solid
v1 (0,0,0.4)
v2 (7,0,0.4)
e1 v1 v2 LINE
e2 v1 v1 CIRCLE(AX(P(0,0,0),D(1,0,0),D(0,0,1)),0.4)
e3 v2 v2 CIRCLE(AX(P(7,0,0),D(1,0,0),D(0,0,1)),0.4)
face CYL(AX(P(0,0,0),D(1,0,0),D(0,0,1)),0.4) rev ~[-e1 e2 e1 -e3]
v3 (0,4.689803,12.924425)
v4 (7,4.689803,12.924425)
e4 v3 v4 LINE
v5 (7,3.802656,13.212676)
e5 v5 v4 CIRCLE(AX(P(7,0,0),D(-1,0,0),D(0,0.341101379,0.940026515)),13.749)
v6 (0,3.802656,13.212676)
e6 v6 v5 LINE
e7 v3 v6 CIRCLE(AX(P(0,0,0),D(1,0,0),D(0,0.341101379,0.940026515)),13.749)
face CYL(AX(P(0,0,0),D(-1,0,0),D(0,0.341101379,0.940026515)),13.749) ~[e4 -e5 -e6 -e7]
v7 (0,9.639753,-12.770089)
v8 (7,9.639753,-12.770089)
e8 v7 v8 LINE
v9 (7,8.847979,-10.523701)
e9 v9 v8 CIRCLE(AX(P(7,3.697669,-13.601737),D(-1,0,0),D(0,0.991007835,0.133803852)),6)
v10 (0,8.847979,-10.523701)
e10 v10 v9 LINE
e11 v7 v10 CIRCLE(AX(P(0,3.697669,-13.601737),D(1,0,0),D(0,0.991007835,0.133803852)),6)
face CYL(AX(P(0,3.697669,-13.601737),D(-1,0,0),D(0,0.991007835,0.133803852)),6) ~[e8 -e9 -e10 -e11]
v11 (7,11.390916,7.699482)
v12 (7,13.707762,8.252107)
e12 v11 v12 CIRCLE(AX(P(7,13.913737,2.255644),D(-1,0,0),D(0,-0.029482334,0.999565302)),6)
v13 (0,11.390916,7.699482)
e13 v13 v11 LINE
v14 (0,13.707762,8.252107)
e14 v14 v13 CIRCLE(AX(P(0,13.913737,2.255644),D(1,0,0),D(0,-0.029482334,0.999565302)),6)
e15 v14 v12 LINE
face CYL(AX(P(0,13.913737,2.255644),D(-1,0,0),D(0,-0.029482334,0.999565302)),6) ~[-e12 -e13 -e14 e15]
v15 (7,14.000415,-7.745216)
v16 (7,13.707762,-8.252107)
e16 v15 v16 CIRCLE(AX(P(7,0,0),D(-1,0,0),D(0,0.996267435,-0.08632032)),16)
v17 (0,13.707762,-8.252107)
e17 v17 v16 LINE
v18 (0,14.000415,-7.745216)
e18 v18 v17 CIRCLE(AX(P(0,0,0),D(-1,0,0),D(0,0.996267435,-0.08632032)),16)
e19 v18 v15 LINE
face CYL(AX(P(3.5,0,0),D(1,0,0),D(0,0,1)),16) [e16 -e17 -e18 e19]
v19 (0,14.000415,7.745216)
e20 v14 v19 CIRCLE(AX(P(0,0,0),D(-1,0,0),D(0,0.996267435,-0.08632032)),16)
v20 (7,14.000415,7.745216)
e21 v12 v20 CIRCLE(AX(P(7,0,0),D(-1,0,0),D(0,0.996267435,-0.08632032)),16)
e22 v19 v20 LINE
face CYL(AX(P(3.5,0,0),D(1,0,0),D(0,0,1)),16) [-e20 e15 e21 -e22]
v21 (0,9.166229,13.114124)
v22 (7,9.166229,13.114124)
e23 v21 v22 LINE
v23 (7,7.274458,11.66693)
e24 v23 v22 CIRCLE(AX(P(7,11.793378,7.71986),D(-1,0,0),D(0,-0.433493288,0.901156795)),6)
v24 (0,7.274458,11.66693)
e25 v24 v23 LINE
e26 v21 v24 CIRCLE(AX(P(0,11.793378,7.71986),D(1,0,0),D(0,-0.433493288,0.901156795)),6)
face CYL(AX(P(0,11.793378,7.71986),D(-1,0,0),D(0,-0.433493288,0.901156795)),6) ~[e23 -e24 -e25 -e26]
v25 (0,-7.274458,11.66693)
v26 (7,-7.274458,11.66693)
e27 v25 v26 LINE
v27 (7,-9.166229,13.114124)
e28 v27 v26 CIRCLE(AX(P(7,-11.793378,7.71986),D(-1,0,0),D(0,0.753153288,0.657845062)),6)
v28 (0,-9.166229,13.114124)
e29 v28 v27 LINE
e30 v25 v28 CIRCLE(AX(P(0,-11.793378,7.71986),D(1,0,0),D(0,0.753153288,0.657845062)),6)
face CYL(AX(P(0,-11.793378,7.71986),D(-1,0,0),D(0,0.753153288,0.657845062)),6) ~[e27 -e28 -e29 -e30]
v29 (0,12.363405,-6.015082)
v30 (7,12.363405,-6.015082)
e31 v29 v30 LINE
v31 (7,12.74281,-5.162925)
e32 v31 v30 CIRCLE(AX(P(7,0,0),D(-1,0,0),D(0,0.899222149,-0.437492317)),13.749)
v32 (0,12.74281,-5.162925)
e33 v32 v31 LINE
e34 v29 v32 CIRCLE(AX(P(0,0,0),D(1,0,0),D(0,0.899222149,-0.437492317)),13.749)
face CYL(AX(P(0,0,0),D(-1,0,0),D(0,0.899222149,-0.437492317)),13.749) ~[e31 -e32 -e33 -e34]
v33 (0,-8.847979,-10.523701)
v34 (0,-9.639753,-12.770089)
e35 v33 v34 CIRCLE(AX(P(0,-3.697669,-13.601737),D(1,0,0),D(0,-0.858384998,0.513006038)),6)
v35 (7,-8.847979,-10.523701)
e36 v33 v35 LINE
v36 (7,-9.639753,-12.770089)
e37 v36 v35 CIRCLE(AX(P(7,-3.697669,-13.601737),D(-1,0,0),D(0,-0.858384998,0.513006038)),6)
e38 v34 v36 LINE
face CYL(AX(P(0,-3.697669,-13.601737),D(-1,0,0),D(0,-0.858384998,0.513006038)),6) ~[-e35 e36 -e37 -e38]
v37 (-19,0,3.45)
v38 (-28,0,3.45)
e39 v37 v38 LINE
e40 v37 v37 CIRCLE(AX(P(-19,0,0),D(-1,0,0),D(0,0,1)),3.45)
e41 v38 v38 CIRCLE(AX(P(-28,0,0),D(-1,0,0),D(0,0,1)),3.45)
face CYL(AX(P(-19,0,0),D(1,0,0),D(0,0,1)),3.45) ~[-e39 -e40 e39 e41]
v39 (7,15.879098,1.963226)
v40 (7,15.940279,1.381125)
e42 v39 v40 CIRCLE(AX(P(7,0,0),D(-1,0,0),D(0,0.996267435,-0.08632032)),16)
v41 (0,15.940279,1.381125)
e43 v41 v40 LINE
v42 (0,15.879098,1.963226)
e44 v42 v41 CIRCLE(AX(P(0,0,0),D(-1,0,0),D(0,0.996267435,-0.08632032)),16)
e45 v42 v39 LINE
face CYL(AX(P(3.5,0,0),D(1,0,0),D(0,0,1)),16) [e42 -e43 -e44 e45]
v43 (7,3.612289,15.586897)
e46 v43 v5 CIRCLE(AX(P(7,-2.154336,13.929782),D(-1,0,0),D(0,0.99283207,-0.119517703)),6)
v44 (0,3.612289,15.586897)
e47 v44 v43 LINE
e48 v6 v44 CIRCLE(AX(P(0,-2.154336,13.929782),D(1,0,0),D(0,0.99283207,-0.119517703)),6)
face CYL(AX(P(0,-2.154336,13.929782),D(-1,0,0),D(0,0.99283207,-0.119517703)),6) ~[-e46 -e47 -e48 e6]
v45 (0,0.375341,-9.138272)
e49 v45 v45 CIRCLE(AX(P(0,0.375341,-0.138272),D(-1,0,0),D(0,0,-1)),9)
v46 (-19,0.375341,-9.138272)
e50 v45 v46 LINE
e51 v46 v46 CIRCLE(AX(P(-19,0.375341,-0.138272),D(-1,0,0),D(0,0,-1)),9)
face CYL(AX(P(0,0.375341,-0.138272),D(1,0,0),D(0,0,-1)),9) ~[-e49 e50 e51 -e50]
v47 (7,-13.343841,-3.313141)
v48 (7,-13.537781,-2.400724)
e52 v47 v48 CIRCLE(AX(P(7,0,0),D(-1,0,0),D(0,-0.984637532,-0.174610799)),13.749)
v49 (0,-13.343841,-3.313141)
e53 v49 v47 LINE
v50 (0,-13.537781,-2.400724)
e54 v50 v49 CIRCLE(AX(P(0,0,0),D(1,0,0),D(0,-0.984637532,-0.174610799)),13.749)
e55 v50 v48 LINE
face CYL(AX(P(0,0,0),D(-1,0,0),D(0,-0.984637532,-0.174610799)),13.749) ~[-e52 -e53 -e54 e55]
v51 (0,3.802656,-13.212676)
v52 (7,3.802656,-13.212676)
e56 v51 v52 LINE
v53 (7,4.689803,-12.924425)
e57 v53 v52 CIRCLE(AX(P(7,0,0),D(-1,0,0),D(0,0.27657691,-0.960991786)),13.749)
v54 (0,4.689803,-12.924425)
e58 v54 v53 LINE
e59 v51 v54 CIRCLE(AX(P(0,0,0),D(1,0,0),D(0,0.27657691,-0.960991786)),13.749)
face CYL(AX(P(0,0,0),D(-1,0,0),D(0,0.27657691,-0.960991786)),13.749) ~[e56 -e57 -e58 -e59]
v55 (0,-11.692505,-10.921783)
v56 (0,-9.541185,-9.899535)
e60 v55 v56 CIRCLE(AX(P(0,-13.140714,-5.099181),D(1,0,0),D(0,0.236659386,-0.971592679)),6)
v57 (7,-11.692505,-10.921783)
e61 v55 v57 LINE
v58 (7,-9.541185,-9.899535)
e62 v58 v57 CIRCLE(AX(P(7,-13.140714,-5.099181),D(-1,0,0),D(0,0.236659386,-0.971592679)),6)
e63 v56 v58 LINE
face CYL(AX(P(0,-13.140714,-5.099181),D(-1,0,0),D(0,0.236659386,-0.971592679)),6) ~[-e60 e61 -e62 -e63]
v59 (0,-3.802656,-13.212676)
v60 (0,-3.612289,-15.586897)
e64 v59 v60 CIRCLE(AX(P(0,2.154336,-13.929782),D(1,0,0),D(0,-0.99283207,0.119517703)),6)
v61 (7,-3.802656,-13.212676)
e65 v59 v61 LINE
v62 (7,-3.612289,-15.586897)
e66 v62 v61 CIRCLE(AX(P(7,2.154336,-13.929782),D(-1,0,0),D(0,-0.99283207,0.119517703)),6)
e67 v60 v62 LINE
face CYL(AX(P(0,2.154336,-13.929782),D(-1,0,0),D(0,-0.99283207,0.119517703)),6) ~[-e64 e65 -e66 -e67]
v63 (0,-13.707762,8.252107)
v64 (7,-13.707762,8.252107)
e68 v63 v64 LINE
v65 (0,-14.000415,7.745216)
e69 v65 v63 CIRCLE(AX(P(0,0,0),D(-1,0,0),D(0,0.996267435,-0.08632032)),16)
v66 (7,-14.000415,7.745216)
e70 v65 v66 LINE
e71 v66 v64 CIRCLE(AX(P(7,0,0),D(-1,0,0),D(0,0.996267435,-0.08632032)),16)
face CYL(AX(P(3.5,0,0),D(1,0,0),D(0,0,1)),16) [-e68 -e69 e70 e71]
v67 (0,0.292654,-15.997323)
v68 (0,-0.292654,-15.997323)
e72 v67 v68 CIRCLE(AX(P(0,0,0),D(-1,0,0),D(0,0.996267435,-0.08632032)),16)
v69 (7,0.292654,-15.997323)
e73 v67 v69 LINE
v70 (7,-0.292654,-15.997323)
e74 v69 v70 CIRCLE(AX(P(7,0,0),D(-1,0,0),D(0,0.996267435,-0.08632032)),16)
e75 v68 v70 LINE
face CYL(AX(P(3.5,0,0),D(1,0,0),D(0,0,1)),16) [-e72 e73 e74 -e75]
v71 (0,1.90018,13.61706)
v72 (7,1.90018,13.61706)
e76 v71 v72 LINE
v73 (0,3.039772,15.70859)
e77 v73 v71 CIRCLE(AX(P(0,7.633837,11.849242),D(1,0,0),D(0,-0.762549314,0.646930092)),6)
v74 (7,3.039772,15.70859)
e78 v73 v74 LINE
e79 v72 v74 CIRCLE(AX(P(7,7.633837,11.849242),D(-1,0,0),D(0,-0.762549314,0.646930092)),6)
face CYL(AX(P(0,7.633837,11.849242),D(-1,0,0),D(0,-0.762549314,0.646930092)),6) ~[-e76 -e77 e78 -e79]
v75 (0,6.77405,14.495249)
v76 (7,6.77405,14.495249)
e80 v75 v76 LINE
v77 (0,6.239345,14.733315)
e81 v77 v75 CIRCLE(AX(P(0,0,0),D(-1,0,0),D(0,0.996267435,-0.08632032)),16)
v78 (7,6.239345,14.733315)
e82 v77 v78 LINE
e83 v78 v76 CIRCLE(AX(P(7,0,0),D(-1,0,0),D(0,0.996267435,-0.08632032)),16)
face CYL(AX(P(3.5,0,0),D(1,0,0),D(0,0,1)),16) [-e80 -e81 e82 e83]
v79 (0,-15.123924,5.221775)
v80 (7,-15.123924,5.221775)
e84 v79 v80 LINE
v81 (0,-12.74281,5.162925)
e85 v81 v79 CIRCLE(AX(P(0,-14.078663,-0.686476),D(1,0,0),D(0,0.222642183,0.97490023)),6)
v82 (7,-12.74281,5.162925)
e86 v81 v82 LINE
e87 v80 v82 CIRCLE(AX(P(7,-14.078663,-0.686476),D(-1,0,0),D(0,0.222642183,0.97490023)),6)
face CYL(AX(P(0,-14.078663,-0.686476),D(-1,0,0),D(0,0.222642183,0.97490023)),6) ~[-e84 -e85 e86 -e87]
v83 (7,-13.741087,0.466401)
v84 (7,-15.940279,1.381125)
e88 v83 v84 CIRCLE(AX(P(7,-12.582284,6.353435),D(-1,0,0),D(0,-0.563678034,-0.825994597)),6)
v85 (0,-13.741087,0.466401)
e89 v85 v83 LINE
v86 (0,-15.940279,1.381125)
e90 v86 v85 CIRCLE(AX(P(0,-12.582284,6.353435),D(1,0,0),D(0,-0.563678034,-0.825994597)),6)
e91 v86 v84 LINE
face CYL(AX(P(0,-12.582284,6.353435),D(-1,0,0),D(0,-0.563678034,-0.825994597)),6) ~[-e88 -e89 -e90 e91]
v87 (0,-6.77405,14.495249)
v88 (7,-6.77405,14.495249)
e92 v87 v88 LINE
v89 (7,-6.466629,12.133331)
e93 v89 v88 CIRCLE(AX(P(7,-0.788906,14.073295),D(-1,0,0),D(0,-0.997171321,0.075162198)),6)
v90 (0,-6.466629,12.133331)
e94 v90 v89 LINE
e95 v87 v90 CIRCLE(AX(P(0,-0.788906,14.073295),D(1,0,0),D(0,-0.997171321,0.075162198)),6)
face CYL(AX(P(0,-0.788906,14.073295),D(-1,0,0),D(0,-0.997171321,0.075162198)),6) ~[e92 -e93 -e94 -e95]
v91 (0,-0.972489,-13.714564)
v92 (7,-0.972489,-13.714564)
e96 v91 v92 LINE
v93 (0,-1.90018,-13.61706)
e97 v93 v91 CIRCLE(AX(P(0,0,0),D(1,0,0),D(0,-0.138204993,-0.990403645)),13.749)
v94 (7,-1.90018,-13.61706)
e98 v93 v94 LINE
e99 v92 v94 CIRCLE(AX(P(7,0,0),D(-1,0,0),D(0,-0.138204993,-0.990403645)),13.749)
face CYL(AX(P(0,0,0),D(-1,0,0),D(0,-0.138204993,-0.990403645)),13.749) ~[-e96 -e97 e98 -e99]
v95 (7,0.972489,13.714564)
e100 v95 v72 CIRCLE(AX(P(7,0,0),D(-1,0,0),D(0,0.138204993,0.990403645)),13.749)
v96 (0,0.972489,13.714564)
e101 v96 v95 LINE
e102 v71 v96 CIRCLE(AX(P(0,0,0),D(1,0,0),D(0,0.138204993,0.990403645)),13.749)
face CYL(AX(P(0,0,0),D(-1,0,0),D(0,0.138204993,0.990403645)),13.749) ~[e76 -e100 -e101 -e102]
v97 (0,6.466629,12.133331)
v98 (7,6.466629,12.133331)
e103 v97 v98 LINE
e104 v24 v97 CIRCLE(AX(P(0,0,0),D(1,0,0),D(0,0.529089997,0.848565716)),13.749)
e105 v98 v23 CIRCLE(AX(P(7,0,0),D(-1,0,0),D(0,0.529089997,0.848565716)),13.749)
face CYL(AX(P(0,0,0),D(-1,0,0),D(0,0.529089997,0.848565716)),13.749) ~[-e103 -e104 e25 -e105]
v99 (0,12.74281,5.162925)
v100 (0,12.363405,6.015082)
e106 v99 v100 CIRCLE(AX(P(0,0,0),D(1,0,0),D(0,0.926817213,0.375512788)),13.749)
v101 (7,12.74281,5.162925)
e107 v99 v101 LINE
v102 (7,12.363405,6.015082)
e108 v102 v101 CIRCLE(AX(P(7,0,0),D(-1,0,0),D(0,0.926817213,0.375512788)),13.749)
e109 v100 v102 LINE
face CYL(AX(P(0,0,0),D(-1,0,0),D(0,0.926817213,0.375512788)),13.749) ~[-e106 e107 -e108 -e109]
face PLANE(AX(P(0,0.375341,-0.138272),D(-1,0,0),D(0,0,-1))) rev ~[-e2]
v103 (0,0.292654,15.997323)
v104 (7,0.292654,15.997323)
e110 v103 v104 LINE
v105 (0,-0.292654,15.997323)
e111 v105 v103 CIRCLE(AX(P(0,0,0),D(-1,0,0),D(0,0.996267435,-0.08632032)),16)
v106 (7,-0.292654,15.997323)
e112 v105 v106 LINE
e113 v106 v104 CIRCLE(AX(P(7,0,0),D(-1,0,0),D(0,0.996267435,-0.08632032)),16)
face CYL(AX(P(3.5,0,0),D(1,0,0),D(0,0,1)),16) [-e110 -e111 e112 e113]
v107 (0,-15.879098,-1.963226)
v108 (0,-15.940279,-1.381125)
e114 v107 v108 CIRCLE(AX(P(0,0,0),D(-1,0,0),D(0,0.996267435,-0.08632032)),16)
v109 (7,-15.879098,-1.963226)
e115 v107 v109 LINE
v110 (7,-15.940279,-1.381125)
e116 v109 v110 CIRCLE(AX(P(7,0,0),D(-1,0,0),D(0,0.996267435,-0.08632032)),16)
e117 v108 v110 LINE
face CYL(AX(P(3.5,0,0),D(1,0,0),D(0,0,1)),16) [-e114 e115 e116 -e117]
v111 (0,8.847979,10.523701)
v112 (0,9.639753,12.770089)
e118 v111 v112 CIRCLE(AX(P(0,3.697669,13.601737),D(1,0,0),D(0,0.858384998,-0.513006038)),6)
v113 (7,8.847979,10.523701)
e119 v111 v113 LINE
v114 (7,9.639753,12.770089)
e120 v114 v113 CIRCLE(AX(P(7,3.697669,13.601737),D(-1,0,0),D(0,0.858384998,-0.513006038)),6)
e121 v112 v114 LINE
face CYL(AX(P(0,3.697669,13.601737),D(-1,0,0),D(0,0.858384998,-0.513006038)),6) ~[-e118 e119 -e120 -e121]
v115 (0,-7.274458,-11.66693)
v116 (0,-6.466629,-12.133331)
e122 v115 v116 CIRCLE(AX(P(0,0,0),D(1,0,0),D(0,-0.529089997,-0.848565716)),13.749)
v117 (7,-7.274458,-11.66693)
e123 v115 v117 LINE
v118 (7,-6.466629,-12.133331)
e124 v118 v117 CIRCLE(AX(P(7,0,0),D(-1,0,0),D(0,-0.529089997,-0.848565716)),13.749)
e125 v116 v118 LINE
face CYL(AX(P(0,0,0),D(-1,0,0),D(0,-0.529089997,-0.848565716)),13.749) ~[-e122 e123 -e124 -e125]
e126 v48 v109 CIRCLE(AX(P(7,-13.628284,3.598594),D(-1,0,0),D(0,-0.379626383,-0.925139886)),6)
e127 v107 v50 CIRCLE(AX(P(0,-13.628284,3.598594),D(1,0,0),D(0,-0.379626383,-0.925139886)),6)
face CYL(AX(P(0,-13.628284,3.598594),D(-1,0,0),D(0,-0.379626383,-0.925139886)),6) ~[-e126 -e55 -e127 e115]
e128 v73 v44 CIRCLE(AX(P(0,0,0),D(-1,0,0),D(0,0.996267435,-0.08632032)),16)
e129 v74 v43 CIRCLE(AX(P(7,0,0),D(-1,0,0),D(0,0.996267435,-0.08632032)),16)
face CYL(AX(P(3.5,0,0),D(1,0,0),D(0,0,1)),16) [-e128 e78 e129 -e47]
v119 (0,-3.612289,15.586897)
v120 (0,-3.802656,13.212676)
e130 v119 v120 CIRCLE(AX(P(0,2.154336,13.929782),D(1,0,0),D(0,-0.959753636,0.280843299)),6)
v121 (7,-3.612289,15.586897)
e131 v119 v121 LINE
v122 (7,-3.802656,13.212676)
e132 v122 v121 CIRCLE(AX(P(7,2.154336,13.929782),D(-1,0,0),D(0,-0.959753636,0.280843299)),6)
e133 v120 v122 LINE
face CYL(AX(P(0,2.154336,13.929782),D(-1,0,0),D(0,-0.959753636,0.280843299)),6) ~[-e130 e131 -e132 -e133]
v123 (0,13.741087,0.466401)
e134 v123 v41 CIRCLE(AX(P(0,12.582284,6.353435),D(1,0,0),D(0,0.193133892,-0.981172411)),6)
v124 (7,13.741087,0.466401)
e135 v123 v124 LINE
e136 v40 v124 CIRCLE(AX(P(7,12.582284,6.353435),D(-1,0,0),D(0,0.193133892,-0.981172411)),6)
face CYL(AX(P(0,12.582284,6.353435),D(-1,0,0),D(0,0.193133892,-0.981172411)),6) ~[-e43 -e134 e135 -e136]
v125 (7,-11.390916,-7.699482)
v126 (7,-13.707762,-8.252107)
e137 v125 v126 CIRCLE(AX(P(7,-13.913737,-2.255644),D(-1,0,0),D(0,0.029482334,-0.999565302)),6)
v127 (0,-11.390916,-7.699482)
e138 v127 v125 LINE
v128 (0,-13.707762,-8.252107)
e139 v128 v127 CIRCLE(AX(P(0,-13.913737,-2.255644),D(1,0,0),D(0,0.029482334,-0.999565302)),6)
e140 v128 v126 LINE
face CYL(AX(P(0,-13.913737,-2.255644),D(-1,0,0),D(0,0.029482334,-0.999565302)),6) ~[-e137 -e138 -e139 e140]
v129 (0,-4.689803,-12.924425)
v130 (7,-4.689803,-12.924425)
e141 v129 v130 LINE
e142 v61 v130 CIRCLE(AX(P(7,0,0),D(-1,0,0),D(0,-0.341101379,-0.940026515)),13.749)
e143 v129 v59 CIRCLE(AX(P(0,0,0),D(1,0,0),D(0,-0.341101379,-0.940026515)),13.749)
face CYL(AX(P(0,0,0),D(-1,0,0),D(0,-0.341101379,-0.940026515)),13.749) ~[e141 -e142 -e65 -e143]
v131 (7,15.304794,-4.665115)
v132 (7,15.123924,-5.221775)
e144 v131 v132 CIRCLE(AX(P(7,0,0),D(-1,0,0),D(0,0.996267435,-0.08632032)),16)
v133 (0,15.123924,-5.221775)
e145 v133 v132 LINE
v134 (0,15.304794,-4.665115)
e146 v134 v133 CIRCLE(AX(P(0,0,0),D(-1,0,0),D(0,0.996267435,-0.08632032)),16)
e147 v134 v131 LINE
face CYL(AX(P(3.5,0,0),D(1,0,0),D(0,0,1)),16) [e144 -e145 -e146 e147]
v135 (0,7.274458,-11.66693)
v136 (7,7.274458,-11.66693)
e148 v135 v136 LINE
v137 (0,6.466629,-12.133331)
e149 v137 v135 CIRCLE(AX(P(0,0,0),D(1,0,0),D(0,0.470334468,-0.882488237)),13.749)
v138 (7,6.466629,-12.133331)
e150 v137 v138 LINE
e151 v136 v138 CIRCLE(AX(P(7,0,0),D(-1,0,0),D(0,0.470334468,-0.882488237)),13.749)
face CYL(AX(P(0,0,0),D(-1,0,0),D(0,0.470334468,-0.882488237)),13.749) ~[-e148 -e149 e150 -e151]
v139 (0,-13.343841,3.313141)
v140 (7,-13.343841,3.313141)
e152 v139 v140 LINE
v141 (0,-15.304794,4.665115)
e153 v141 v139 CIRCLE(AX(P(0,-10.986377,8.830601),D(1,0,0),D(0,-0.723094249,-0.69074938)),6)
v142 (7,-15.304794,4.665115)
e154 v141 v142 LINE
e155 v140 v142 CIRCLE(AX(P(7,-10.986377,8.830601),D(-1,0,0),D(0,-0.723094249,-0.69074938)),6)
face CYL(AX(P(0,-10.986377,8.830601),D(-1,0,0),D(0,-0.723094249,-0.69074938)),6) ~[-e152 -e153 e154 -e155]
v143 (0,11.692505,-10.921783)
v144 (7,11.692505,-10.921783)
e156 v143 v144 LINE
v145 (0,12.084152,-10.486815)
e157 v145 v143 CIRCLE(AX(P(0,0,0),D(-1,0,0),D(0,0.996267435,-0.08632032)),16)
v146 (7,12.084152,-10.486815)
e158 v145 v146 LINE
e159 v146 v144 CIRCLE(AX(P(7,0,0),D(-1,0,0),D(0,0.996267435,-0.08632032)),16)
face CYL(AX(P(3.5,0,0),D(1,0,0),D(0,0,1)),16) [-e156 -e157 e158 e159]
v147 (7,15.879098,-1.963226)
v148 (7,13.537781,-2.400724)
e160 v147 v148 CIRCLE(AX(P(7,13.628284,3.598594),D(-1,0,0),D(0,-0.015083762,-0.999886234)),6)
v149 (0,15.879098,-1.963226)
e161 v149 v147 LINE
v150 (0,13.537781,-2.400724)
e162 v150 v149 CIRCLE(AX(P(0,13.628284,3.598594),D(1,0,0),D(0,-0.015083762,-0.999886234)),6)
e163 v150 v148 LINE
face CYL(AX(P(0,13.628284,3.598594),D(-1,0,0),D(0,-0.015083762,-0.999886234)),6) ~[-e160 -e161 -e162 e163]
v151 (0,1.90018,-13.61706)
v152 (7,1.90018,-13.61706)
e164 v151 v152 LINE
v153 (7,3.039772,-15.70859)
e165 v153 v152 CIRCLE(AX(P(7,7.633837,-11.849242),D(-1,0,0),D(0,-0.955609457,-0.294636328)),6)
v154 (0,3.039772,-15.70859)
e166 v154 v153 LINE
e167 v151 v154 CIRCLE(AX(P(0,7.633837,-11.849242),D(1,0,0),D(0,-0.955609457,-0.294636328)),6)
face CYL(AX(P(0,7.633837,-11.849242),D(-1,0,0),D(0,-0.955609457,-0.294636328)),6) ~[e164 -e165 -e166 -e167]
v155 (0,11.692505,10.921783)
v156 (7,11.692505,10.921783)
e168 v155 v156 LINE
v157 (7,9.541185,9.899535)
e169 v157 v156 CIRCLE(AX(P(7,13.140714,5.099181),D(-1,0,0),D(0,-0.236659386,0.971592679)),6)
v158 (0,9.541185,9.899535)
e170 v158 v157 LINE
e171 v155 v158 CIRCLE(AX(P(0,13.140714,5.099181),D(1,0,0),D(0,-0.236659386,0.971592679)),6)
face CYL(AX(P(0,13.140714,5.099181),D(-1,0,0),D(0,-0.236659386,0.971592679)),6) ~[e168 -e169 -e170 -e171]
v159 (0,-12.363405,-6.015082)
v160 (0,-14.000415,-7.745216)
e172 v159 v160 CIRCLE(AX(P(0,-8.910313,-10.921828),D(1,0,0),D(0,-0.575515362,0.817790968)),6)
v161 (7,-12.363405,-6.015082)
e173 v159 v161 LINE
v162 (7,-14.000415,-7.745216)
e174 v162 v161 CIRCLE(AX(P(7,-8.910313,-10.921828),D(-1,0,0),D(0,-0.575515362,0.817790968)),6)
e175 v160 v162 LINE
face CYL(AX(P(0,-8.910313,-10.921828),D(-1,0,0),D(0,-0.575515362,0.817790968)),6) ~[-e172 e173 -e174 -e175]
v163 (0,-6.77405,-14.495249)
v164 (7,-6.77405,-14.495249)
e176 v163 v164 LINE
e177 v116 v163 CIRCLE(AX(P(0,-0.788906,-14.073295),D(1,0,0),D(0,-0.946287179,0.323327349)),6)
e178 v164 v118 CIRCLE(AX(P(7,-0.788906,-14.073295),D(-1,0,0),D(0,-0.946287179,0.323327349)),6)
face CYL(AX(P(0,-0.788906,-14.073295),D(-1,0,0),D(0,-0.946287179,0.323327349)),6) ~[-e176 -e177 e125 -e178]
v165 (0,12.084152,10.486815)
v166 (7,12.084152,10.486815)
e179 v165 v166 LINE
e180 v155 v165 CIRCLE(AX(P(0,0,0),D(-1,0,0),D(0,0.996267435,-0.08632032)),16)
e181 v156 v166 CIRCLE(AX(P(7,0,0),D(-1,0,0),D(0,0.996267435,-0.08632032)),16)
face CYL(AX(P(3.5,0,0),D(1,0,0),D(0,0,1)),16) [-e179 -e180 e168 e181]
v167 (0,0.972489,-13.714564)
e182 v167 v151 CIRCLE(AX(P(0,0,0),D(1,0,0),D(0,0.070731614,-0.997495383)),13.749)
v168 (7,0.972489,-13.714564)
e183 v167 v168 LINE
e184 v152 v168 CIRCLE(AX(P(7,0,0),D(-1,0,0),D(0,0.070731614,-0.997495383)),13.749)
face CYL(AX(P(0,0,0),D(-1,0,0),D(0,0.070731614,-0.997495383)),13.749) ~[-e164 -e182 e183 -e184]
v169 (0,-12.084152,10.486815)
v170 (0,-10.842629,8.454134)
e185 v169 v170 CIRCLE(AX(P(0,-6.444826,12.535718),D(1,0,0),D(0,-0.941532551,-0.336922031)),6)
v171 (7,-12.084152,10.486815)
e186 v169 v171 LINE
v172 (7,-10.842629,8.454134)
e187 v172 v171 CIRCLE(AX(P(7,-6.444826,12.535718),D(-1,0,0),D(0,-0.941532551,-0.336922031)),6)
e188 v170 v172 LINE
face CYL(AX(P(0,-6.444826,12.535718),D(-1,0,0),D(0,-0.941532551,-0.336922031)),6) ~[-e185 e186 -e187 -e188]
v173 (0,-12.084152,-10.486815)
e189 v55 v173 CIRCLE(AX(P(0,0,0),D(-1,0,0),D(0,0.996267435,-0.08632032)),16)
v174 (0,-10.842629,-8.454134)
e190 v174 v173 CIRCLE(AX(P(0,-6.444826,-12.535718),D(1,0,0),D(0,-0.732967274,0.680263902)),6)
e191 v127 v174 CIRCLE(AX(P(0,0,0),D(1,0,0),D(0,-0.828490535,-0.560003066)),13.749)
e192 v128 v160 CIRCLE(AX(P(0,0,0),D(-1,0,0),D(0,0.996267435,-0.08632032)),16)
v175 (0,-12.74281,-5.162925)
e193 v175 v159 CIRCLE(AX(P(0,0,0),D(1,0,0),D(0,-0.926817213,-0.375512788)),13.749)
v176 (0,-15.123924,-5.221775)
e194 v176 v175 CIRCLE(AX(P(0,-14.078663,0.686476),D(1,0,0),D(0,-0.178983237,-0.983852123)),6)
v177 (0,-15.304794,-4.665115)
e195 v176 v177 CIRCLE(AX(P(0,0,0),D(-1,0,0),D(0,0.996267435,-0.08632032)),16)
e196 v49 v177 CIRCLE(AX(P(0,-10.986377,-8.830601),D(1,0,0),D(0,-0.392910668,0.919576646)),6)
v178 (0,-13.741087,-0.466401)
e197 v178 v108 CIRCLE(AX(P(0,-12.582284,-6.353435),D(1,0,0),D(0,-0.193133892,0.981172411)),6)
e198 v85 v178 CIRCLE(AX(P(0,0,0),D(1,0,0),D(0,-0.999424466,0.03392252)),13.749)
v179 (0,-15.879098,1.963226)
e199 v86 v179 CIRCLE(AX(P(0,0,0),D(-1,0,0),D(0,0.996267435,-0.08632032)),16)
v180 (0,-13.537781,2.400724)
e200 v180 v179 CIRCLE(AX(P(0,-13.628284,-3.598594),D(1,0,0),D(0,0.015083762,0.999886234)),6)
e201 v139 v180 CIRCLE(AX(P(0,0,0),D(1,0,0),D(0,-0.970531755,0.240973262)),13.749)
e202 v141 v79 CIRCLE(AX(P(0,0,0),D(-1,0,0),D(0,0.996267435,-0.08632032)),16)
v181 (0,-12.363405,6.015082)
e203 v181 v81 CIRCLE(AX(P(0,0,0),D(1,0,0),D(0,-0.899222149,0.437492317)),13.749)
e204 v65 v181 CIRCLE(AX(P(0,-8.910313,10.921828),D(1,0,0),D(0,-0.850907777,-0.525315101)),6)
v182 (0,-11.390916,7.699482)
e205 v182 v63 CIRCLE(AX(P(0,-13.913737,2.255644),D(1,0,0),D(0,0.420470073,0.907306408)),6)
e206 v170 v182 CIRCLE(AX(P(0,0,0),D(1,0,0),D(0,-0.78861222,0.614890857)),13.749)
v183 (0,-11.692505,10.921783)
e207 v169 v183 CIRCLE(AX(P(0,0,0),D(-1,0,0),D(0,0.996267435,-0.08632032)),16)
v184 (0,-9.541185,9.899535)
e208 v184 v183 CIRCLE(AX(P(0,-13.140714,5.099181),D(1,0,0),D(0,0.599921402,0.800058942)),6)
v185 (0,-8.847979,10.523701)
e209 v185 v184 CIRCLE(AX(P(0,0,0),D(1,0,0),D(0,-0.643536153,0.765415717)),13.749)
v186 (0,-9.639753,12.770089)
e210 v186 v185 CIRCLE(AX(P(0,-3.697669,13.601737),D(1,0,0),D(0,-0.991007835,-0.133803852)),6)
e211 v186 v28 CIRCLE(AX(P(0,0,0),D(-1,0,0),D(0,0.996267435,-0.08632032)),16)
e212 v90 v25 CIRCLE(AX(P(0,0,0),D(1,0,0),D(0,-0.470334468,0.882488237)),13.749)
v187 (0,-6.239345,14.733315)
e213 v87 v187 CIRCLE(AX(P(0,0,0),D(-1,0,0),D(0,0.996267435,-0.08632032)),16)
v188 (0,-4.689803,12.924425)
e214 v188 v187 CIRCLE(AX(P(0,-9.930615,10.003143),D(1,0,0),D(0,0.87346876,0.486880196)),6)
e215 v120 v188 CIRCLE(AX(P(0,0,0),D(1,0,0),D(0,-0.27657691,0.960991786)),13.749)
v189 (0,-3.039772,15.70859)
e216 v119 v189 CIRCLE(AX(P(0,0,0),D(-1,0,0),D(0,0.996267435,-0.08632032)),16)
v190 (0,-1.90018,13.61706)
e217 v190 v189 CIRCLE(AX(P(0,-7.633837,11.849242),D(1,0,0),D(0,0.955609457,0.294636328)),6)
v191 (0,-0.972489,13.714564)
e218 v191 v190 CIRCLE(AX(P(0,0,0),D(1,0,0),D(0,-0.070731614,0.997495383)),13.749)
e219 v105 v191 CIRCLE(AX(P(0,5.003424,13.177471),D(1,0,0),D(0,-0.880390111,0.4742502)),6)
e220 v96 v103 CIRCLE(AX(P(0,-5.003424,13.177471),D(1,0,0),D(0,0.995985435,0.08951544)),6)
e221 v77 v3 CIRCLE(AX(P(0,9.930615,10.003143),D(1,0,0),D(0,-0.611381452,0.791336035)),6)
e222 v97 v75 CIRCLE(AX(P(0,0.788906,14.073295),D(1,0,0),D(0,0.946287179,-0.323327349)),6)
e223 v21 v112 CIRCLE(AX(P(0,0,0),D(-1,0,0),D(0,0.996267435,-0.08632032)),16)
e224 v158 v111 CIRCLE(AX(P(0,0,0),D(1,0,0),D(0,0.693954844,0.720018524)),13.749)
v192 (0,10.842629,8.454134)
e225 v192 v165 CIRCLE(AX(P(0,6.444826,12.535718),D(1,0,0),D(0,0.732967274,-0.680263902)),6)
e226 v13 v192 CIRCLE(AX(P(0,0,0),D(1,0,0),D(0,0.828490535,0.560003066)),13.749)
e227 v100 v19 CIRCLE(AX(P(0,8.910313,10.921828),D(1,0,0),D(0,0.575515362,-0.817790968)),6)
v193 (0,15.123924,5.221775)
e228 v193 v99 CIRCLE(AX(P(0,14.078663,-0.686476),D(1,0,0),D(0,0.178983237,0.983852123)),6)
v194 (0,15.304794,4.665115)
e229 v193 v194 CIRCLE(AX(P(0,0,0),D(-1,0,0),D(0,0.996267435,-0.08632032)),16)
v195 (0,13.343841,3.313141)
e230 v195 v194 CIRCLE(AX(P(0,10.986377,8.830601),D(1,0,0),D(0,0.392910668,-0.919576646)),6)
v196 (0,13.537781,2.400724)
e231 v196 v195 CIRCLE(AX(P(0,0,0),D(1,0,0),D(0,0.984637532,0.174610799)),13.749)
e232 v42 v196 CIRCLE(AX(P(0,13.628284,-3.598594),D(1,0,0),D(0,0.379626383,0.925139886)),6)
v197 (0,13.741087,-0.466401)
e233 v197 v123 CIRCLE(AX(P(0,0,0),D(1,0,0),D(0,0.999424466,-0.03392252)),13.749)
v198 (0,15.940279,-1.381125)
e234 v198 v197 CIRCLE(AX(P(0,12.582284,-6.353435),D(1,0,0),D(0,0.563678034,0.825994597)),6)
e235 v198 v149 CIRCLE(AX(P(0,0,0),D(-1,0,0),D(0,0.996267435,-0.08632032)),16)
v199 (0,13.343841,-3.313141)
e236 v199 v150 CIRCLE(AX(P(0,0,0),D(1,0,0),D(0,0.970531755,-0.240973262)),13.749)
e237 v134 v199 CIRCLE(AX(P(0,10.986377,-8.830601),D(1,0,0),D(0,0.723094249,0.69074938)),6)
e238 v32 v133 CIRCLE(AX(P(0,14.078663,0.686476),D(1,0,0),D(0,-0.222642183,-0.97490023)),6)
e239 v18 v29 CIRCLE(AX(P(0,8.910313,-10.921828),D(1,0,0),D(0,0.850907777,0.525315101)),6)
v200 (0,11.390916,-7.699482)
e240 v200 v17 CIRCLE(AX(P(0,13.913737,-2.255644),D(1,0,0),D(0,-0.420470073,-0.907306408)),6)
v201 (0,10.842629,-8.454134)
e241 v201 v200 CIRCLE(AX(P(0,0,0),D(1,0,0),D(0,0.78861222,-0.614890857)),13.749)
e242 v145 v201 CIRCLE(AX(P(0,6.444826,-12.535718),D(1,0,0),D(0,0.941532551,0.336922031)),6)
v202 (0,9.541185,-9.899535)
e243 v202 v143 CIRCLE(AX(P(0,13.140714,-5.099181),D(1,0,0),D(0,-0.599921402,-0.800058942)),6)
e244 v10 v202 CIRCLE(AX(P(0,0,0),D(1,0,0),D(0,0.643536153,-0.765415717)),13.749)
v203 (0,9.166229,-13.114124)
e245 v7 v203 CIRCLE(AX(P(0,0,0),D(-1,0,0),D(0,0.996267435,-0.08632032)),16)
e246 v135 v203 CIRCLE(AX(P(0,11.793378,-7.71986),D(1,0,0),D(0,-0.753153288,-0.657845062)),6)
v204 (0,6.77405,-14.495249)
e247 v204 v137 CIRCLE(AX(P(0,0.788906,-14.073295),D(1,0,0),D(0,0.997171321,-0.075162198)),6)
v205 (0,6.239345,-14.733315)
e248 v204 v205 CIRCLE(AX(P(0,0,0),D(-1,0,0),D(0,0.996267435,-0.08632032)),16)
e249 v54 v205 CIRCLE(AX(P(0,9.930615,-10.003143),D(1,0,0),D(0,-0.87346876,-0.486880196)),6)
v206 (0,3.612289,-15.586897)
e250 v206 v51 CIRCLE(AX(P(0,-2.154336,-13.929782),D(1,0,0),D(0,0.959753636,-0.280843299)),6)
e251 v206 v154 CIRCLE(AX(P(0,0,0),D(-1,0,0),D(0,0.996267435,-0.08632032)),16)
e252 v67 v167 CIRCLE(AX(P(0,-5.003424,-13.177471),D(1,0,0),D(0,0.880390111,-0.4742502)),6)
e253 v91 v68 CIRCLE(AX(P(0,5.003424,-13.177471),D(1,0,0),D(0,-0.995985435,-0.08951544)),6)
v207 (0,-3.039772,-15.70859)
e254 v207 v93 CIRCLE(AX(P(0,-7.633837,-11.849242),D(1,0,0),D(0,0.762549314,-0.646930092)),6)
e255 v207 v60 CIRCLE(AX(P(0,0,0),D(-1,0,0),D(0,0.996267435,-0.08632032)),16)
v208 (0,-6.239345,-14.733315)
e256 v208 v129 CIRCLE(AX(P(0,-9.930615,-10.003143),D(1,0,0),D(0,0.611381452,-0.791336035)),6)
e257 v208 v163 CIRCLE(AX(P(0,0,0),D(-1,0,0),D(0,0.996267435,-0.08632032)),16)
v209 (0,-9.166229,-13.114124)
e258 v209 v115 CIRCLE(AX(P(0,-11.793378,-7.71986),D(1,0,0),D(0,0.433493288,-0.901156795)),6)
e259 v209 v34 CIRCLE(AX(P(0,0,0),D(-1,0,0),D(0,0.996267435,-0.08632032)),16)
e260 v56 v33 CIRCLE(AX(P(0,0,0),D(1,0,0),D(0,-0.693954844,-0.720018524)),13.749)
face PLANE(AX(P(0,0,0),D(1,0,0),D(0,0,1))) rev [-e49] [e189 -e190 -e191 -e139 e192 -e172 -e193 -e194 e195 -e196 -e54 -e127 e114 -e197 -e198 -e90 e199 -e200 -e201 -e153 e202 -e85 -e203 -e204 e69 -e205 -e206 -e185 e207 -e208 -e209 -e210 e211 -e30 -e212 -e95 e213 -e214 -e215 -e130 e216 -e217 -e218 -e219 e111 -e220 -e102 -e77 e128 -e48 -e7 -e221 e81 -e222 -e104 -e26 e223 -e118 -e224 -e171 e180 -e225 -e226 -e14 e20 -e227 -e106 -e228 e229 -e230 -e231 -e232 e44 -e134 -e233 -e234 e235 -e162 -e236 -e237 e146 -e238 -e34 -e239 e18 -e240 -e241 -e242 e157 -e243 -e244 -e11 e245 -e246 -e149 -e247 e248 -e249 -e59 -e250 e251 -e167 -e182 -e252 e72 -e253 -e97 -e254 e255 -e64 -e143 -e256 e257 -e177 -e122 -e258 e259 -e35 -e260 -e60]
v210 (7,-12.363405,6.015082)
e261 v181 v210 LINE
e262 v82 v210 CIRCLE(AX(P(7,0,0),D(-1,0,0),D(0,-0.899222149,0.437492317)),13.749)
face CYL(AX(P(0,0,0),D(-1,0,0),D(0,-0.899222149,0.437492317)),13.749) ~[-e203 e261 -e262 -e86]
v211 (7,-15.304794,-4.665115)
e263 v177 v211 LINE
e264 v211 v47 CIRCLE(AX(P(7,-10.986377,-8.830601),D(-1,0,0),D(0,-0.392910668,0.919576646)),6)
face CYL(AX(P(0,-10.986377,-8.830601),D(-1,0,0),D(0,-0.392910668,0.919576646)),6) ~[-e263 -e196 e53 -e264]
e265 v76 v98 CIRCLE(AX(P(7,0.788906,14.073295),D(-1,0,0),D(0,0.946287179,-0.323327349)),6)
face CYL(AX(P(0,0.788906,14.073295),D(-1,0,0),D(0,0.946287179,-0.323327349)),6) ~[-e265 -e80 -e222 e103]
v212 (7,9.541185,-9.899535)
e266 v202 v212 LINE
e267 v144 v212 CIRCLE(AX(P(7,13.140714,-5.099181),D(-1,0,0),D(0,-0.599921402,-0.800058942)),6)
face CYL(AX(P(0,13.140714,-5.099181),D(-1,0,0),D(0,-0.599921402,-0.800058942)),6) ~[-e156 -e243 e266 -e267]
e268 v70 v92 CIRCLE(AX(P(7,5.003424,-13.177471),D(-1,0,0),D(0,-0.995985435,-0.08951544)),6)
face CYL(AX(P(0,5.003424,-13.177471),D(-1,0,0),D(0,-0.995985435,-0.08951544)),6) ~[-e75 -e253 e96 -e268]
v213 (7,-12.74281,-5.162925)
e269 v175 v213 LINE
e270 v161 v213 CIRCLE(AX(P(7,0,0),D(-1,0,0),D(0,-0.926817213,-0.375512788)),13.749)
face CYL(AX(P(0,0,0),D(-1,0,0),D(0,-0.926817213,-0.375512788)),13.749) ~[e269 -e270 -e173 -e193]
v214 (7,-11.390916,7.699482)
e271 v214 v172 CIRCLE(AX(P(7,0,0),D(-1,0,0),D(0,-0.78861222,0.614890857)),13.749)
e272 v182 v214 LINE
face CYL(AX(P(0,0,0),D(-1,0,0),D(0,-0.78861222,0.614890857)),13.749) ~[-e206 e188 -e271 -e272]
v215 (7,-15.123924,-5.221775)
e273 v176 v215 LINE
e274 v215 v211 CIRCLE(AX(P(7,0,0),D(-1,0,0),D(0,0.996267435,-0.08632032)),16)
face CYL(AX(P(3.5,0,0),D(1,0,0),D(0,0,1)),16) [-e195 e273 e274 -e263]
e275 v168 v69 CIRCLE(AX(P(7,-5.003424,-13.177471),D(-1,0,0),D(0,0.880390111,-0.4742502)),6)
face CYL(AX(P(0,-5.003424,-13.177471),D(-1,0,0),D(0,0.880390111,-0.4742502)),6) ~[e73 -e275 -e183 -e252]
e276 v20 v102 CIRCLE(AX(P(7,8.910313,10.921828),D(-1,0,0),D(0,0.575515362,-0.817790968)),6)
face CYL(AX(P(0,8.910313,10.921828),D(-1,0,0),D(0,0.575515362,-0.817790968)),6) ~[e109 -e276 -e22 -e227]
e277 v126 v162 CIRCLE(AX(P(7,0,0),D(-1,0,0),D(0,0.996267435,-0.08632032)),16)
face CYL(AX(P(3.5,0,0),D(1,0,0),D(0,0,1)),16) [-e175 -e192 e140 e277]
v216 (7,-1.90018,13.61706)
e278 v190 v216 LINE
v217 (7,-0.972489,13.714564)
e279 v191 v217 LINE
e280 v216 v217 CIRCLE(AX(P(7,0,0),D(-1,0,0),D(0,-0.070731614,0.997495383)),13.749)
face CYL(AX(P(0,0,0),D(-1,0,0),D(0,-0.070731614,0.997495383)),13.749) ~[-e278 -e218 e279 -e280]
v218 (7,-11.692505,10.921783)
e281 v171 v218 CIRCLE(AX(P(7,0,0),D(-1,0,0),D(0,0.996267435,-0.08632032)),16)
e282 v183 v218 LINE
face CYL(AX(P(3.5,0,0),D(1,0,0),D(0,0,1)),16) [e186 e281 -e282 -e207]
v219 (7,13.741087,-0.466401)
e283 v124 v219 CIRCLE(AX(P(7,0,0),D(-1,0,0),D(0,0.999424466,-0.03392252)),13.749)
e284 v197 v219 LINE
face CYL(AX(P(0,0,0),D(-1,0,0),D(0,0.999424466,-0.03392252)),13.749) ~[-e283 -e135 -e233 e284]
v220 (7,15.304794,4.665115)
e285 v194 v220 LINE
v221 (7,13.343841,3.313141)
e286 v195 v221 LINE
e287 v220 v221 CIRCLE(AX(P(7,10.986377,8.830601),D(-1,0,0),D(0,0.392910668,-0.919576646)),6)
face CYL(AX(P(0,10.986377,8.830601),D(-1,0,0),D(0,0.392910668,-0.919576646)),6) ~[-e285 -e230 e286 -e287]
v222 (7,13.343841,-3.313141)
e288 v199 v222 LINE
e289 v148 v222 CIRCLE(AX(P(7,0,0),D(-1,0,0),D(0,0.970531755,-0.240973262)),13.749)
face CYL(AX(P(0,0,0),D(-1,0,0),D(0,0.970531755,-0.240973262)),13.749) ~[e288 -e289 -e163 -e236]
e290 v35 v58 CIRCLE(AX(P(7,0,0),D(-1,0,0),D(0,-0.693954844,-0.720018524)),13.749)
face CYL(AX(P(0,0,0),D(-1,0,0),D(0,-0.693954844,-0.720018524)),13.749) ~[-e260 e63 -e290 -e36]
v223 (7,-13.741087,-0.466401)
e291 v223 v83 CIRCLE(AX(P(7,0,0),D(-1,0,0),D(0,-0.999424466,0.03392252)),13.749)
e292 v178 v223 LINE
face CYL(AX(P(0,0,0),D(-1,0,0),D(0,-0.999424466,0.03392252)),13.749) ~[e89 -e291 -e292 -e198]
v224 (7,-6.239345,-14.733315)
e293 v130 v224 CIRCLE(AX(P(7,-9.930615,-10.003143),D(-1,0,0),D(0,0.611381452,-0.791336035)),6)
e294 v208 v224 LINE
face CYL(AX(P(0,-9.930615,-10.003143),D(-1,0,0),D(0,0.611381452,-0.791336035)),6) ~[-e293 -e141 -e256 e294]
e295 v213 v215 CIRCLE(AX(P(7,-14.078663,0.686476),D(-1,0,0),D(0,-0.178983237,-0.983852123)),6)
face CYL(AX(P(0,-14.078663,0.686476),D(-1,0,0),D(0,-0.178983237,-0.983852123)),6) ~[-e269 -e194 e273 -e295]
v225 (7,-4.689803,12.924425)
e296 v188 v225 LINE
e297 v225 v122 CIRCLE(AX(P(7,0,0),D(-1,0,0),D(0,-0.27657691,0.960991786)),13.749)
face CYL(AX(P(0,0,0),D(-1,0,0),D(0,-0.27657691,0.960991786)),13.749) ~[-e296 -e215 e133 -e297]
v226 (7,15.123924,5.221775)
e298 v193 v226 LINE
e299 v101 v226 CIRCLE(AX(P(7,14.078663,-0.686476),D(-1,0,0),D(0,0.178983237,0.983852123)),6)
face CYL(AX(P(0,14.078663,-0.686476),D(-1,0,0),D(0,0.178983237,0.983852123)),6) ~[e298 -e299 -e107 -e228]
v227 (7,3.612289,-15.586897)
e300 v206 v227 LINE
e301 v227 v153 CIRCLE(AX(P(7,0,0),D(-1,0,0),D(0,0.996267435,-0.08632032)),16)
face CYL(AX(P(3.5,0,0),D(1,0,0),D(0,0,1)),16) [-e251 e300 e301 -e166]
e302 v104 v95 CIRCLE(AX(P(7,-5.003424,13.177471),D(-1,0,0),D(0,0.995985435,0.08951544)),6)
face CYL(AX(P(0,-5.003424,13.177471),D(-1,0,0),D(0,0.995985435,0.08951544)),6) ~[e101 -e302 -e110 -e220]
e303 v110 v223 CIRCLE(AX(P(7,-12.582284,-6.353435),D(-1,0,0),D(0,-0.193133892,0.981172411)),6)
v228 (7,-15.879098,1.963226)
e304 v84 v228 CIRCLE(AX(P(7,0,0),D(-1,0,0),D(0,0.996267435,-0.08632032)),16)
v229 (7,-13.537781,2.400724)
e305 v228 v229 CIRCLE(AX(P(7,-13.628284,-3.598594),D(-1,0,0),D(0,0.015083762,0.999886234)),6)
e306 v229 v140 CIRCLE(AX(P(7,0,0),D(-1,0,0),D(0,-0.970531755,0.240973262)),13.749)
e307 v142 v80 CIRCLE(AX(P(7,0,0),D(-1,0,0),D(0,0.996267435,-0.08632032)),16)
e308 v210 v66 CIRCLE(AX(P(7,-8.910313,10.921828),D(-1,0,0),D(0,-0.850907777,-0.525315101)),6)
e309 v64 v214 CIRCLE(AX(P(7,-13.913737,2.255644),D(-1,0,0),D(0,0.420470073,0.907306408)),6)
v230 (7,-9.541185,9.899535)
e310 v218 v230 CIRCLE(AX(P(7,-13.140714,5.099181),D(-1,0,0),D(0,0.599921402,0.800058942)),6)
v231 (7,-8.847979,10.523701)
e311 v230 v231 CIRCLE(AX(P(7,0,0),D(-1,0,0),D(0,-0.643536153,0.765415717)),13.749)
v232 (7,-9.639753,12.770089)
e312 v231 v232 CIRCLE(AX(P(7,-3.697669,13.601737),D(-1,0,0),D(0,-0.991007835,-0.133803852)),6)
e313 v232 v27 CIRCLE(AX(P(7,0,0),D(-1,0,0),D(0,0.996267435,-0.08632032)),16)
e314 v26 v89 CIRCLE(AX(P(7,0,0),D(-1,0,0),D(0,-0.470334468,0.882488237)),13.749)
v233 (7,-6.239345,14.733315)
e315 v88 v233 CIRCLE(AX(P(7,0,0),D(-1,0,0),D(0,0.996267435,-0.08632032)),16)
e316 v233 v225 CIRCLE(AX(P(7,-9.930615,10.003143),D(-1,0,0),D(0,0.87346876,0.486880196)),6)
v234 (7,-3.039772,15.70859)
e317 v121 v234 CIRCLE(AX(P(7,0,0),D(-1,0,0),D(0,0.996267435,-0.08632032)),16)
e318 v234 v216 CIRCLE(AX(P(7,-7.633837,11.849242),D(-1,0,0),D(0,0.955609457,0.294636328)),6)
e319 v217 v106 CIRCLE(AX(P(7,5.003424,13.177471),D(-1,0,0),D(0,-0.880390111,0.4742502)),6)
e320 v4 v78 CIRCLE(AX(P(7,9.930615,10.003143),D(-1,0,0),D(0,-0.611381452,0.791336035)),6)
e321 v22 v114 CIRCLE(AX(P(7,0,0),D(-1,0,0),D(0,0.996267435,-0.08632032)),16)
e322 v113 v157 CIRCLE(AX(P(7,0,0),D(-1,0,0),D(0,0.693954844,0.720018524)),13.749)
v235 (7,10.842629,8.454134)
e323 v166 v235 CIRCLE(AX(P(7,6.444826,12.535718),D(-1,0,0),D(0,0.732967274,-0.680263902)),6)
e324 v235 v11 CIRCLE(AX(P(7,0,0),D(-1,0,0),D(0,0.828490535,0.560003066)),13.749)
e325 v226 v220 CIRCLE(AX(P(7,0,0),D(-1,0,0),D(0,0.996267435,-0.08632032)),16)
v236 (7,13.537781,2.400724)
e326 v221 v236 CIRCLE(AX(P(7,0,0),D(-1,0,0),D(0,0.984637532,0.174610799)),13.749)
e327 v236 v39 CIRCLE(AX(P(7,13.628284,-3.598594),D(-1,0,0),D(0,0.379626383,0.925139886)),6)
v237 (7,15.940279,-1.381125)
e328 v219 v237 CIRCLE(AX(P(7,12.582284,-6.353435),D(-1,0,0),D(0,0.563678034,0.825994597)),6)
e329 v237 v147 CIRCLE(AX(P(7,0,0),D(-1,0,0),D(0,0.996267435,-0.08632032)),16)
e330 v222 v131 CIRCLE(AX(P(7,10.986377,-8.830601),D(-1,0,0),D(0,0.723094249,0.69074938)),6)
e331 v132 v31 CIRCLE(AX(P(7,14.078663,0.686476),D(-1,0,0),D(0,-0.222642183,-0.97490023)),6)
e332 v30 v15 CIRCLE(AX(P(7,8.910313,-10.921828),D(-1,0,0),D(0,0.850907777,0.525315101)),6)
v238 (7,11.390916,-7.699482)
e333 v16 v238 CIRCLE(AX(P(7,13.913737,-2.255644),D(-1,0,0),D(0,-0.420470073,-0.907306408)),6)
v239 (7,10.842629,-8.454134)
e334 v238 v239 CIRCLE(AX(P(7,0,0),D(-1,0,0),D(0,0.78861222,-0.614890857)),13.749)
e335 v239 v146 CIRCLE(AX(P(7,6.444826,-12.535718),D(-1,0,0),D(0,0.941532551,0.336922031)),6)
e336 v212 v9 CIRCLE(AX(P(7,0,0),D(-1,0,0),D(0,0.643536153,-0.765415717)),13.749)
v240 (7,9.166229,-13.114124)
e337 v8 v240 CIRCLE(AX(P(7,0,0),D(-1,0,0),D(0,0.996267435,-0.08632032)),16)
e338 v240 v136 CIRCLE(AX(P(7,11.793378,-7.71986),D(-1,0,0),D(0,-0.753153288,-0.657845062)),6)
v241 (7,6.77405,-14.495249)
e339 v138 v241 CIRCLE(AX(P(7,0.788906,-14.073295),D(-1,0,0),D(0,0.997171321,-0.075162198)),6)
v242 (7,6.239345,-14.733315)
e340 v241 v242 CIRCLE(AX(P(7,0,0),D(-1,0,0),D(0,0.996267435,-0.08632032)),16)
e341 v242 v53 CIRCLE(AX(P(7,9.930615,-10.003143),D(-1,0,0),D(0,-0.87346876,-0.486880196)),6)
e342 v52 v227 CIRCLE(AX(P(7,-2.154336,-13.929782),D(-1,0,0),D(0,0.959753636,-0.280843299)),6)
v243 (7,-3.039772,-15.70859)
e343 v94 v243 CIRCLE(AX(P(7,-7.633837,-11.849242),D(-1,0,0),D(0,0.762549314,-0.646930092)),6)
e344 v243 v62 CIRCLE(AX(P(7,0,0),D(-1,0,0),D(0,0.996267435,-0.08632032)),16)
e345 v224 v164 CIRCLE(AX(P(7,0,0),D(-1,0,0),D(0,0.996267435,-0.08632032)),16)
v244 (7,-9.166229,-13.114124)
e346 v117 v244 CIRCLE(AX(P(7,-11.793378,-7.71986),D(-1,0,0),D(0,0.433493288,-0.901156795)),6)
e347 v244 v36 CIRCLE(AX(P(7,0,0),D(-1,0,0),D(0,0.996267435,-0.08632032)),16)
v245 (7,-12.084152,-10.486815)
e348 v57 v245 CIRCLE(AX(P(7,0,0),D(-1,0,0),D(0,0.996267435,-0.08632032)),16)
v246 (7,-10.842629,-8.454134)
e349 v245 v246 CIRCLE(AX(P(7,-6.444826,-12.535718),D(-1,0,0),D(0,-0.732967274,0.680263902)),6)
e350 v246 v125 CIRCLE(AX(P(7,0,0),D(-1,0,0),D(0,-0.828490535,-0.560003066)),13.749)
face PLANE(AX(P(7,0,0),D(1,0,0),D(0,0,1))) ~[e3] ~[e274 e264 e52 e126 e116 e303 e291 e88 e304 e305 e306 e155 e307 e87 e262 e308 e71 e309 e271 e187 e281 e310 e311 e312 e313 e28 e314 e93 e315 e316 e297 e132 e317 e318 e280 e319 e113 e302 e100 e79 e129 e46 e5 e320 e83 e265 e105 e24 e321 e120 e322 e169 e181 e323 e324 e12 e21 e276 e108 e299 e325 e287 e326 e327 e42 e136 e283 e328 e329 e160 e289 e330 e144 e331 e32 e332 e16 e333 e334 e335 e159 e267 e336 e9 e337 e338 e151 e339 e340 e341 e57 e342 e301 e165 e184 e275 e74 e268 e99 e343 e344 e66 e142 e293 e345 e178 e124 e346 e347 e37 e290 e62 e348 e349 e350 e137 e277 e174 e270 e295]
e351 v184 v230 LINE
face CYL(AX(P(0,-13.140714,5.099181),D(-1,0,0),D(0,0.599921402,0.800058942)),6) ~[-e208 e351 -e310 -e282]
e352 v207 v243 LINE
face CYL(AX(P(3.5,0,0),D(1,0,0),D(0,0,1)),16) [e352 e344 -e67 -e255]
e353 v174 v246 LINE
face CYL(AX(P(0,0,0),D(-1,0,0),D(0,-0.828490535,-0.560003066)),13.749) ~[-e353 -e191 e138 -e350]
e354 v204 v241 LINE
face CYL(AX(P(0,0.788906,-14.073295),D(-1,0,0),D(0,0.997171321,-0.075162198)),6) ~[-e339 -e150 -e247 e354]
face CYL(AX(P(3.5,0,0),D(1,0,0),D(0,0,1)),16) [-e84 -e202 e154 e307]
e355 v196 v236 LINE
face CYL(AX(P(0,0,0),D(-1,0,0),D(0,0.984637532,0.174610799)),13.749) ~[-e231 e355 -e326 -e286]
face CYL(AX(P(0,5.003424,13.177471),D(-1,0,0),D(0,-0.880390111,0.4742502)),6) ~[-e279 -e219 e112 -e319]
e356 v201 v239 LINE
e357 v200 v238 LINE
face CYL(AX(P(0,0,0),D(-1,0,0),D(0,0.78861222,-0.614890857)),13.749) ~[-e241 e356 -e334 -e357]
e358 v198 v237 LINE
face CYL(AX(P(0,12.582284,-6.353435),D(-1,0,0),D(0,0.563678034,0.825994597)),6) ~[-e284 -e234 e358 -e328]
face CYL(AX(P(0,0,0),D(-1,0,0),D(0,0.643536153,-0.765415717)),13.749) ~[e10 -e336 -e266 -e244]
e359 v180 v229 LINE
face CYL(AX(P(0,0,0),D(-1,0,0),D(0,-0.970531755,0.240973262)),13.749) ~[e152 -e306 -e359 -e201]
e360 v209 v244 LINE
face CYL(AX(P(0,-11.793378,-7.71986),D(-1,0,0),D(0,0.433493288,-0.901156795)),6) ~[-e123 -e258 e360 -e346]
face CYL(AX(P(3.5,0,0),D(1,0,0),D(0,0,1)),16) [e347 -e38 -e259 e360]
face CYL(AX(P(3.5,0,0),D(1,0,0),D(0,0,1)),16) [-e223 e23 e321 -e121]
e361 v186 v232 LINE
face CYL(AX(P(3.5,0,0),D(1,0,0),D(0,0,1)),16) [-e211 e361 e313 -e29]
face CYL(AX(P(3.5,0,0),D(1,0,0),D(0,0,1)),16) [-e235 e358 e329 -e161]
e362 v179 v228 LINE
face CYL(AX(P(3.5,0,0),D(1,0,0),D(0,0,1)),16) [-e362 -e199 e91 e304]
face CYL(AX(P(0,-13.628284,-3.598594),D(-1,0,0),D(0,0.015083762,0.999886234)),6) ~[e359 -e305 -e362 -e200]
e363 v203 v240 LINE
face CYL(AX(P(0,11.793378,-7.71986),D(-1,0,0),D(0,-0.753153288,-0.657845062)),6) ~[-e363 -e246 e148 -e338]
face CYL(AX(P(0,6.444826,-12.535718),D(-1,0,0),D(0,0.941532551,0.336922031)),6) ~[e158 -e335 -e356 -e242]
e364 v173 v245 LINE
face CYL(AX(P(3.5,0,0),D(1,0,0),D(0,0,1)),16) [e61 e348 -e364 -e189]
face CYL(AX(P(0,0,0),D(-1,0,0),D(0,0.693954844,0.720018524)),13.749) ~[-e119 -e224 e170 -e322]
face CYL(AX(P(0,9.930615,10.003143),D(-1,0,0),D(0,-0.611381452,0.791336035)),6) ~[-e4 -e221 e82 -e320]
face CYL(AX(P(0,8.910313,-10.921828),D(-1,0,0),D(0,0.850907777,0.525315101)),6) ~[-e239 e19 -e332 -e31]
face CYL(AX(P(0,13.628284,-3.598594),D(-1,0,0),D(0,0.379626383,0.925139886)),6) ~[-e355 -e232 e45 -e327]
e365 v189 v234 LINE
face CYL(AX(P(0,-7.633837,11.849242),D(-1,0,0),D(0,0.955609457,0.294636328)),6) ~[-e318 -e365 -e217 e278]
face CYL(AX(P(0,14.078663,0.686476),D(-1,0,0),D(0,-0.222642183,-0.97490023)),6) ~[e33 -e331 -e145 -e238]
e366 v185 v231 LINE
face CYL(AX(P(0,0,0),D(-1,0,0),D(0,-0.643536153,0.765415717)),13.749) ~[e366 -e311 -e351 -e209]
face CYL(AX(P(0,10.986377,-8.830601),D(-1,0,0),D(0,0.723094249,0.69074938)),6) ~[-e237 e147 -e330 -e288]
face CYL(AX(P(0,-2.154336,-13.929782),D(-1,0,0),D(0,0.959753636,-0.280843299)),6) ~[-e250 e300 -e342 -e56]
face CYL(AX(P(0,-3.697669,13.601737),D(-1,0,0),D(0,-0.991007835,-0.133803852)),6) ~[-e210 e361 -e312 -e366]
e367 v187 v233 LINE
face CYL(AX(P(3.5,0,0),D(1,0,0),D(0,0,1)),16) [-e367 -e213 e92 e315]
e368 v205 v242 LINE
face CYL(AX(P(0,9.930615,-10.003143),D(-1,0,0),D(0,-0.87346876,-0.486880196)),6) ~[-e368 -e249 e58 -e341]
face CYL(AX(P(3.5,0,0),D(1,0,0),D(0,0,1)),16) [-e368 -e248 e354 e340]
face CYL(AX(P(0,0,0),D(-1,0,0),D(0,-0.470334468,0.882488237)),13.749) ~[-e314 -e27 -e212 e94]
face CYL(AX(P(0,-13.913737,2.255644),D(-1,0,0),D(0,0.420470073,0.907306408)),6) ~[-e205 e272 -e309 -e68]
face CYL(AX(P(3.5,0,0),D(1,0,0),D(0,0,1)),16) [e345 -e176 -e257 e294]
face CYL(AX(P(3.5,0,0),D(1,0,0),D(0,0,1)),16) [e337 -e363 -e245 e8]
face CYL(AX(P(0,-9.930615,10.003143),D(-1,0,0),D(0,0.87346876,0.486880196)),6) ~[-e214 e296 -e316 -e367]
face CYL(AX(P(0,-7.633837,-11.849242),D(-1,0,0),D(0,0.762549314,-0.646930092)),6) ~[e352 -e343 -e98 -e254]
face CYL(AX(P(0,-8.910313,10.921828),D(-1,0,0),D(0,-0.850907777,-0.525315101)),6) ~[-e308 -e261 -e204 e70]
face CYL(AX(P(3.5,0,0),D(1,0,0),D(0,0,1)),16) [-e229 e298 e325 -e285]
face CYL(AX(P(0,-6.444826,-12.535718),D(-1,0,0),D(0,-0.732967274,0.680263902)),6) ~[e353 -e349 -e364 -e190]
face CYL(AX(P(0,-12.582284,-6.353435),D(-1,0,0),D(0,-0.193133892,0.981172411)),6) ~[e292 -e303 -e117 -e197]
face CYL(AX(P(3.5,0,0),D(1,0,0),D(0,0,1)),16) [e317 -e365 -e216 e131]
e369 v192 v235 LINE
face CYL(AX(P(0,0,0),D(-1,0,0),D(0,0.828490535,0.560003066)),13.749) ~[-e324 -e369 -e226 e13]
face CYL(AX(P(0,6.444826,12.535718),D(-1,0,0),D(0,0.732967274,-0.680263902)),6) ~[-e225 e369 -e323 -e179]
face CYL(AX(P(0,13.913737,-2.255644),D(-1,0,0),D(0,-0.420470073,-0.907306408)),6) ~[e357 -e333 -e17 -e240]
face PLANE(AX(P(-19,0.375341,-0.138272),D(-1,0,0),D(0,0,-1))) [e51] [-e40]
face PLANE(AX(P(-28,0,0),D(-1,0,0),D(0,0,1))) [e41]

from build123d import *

# Parameters (mm, degrees)
BASPROSKE_W         = 7
BASPROSKE_H         = 16
TOOTHCUT_DEPTH      = 24.685438565
TEETHCUTS_COUNT     = 30
TEETHCUTS_ANGLE     = 348
BORSKE_R            = 0.4
BORE_DEPTH          = 50.0000508
SKETCH1_R           = 9
BOSS_EXTRUDE1_DEPTH = 19
SKETCH2_R           = 3.45
BOSS_EXTRUDE2_DEPTH = 9


with BuildPart() as part:
    # BasProSke → Base-Revolve (revolve)
    with BuildSketch(Plane(origin=(0, 0, 0), x_dir=(1, 0, 0), z_dir=(0, 1, 0)), mode=Mode.PRIVATE) as base_revolve_sk:
        with Locations((3.5, 8)):
            Rectangle(BASPROSKE_W, BASPROSKE_H)
    revolve(base_revolve_sk.sketch.rotate(Axis((-10, 0, 0), (1, 0, 0)), 180), axis=Axis((-10, 0, 0), (1, 0, 0)))

    # TooCutSke → ToothCut (cut, through all)
    with BuildSketch(Plane(origin=(0, 0, 0), x_dir=(0, 0, -1), z_dir=(1, 0, 0))):
        with BuildLine():
            ThreePointArc((0.466400716, 13.741086979), (0, 13.749), (-0.466400716, 13.741086979))
            ThreePointArc((-0.466400716, 13.741086979), (-0.819142092, 14.899954875), (-1.3974676, 15.964351834))
            ThreePointArc((-1.3974676, 15.964351834), (0, 16.0254), (1.3974676, 15.964351834))
            ThreePointArc((1.3974676, 15.964351834), (0.819142092, 14.899954875), (0.466400716, 13.741086979))
        make_face()
    toothcut = extrude(amount=TOOTHCUT_DEPTH, mode=Mode.SUBTRACT)

    # TeethCuts: ToothCut ×30 about axis
    teethcuts_axis = Axis((-10, 0, 0), (1, 0, 0))
    for i in range(1, TEETHCUTS_COUNT):
        add(toothcut.rotate(teethcuts_axis, i * TEETHCUTS_ANGLE / (TEETHCUTS_COUNT - 1)), mode=Mode.SUBTRACT)

    # BorSke → Bore (cut, symmetric)
    with BuildSketch(Plane(origin=(0, 0, 0), x_dir=(0, 0, -1), z_dir=(1, 0, 0))):
        with Locations(Location((0, 0, 0), (0, 0, 180))):
            Circle(BORSKE_R)
    extrude(amount=BORE_DEPTH, both=True, mode=Mode.SUBTRACT)

    # Sketch1 → Boss-Extrude1 (add)
    with BuildSketch(Plane.ZY):
        with Locations(Location((-0.138271535, 0.375341155, 0), (0, 0, 180))):
            Circle(SKETCH1_R)
    extrude(amount=BOSS_EXTRUDE1_DEPTH)

    # Sketch2 → Boss-Extrude2 (add)
    with BuildSketch(Plane.ZY.offset(19)):
        Circle(SKETCH2_R)
    extrude(amount=BOSS_EXTRUDE2_DEPTH)


solid = part.part
